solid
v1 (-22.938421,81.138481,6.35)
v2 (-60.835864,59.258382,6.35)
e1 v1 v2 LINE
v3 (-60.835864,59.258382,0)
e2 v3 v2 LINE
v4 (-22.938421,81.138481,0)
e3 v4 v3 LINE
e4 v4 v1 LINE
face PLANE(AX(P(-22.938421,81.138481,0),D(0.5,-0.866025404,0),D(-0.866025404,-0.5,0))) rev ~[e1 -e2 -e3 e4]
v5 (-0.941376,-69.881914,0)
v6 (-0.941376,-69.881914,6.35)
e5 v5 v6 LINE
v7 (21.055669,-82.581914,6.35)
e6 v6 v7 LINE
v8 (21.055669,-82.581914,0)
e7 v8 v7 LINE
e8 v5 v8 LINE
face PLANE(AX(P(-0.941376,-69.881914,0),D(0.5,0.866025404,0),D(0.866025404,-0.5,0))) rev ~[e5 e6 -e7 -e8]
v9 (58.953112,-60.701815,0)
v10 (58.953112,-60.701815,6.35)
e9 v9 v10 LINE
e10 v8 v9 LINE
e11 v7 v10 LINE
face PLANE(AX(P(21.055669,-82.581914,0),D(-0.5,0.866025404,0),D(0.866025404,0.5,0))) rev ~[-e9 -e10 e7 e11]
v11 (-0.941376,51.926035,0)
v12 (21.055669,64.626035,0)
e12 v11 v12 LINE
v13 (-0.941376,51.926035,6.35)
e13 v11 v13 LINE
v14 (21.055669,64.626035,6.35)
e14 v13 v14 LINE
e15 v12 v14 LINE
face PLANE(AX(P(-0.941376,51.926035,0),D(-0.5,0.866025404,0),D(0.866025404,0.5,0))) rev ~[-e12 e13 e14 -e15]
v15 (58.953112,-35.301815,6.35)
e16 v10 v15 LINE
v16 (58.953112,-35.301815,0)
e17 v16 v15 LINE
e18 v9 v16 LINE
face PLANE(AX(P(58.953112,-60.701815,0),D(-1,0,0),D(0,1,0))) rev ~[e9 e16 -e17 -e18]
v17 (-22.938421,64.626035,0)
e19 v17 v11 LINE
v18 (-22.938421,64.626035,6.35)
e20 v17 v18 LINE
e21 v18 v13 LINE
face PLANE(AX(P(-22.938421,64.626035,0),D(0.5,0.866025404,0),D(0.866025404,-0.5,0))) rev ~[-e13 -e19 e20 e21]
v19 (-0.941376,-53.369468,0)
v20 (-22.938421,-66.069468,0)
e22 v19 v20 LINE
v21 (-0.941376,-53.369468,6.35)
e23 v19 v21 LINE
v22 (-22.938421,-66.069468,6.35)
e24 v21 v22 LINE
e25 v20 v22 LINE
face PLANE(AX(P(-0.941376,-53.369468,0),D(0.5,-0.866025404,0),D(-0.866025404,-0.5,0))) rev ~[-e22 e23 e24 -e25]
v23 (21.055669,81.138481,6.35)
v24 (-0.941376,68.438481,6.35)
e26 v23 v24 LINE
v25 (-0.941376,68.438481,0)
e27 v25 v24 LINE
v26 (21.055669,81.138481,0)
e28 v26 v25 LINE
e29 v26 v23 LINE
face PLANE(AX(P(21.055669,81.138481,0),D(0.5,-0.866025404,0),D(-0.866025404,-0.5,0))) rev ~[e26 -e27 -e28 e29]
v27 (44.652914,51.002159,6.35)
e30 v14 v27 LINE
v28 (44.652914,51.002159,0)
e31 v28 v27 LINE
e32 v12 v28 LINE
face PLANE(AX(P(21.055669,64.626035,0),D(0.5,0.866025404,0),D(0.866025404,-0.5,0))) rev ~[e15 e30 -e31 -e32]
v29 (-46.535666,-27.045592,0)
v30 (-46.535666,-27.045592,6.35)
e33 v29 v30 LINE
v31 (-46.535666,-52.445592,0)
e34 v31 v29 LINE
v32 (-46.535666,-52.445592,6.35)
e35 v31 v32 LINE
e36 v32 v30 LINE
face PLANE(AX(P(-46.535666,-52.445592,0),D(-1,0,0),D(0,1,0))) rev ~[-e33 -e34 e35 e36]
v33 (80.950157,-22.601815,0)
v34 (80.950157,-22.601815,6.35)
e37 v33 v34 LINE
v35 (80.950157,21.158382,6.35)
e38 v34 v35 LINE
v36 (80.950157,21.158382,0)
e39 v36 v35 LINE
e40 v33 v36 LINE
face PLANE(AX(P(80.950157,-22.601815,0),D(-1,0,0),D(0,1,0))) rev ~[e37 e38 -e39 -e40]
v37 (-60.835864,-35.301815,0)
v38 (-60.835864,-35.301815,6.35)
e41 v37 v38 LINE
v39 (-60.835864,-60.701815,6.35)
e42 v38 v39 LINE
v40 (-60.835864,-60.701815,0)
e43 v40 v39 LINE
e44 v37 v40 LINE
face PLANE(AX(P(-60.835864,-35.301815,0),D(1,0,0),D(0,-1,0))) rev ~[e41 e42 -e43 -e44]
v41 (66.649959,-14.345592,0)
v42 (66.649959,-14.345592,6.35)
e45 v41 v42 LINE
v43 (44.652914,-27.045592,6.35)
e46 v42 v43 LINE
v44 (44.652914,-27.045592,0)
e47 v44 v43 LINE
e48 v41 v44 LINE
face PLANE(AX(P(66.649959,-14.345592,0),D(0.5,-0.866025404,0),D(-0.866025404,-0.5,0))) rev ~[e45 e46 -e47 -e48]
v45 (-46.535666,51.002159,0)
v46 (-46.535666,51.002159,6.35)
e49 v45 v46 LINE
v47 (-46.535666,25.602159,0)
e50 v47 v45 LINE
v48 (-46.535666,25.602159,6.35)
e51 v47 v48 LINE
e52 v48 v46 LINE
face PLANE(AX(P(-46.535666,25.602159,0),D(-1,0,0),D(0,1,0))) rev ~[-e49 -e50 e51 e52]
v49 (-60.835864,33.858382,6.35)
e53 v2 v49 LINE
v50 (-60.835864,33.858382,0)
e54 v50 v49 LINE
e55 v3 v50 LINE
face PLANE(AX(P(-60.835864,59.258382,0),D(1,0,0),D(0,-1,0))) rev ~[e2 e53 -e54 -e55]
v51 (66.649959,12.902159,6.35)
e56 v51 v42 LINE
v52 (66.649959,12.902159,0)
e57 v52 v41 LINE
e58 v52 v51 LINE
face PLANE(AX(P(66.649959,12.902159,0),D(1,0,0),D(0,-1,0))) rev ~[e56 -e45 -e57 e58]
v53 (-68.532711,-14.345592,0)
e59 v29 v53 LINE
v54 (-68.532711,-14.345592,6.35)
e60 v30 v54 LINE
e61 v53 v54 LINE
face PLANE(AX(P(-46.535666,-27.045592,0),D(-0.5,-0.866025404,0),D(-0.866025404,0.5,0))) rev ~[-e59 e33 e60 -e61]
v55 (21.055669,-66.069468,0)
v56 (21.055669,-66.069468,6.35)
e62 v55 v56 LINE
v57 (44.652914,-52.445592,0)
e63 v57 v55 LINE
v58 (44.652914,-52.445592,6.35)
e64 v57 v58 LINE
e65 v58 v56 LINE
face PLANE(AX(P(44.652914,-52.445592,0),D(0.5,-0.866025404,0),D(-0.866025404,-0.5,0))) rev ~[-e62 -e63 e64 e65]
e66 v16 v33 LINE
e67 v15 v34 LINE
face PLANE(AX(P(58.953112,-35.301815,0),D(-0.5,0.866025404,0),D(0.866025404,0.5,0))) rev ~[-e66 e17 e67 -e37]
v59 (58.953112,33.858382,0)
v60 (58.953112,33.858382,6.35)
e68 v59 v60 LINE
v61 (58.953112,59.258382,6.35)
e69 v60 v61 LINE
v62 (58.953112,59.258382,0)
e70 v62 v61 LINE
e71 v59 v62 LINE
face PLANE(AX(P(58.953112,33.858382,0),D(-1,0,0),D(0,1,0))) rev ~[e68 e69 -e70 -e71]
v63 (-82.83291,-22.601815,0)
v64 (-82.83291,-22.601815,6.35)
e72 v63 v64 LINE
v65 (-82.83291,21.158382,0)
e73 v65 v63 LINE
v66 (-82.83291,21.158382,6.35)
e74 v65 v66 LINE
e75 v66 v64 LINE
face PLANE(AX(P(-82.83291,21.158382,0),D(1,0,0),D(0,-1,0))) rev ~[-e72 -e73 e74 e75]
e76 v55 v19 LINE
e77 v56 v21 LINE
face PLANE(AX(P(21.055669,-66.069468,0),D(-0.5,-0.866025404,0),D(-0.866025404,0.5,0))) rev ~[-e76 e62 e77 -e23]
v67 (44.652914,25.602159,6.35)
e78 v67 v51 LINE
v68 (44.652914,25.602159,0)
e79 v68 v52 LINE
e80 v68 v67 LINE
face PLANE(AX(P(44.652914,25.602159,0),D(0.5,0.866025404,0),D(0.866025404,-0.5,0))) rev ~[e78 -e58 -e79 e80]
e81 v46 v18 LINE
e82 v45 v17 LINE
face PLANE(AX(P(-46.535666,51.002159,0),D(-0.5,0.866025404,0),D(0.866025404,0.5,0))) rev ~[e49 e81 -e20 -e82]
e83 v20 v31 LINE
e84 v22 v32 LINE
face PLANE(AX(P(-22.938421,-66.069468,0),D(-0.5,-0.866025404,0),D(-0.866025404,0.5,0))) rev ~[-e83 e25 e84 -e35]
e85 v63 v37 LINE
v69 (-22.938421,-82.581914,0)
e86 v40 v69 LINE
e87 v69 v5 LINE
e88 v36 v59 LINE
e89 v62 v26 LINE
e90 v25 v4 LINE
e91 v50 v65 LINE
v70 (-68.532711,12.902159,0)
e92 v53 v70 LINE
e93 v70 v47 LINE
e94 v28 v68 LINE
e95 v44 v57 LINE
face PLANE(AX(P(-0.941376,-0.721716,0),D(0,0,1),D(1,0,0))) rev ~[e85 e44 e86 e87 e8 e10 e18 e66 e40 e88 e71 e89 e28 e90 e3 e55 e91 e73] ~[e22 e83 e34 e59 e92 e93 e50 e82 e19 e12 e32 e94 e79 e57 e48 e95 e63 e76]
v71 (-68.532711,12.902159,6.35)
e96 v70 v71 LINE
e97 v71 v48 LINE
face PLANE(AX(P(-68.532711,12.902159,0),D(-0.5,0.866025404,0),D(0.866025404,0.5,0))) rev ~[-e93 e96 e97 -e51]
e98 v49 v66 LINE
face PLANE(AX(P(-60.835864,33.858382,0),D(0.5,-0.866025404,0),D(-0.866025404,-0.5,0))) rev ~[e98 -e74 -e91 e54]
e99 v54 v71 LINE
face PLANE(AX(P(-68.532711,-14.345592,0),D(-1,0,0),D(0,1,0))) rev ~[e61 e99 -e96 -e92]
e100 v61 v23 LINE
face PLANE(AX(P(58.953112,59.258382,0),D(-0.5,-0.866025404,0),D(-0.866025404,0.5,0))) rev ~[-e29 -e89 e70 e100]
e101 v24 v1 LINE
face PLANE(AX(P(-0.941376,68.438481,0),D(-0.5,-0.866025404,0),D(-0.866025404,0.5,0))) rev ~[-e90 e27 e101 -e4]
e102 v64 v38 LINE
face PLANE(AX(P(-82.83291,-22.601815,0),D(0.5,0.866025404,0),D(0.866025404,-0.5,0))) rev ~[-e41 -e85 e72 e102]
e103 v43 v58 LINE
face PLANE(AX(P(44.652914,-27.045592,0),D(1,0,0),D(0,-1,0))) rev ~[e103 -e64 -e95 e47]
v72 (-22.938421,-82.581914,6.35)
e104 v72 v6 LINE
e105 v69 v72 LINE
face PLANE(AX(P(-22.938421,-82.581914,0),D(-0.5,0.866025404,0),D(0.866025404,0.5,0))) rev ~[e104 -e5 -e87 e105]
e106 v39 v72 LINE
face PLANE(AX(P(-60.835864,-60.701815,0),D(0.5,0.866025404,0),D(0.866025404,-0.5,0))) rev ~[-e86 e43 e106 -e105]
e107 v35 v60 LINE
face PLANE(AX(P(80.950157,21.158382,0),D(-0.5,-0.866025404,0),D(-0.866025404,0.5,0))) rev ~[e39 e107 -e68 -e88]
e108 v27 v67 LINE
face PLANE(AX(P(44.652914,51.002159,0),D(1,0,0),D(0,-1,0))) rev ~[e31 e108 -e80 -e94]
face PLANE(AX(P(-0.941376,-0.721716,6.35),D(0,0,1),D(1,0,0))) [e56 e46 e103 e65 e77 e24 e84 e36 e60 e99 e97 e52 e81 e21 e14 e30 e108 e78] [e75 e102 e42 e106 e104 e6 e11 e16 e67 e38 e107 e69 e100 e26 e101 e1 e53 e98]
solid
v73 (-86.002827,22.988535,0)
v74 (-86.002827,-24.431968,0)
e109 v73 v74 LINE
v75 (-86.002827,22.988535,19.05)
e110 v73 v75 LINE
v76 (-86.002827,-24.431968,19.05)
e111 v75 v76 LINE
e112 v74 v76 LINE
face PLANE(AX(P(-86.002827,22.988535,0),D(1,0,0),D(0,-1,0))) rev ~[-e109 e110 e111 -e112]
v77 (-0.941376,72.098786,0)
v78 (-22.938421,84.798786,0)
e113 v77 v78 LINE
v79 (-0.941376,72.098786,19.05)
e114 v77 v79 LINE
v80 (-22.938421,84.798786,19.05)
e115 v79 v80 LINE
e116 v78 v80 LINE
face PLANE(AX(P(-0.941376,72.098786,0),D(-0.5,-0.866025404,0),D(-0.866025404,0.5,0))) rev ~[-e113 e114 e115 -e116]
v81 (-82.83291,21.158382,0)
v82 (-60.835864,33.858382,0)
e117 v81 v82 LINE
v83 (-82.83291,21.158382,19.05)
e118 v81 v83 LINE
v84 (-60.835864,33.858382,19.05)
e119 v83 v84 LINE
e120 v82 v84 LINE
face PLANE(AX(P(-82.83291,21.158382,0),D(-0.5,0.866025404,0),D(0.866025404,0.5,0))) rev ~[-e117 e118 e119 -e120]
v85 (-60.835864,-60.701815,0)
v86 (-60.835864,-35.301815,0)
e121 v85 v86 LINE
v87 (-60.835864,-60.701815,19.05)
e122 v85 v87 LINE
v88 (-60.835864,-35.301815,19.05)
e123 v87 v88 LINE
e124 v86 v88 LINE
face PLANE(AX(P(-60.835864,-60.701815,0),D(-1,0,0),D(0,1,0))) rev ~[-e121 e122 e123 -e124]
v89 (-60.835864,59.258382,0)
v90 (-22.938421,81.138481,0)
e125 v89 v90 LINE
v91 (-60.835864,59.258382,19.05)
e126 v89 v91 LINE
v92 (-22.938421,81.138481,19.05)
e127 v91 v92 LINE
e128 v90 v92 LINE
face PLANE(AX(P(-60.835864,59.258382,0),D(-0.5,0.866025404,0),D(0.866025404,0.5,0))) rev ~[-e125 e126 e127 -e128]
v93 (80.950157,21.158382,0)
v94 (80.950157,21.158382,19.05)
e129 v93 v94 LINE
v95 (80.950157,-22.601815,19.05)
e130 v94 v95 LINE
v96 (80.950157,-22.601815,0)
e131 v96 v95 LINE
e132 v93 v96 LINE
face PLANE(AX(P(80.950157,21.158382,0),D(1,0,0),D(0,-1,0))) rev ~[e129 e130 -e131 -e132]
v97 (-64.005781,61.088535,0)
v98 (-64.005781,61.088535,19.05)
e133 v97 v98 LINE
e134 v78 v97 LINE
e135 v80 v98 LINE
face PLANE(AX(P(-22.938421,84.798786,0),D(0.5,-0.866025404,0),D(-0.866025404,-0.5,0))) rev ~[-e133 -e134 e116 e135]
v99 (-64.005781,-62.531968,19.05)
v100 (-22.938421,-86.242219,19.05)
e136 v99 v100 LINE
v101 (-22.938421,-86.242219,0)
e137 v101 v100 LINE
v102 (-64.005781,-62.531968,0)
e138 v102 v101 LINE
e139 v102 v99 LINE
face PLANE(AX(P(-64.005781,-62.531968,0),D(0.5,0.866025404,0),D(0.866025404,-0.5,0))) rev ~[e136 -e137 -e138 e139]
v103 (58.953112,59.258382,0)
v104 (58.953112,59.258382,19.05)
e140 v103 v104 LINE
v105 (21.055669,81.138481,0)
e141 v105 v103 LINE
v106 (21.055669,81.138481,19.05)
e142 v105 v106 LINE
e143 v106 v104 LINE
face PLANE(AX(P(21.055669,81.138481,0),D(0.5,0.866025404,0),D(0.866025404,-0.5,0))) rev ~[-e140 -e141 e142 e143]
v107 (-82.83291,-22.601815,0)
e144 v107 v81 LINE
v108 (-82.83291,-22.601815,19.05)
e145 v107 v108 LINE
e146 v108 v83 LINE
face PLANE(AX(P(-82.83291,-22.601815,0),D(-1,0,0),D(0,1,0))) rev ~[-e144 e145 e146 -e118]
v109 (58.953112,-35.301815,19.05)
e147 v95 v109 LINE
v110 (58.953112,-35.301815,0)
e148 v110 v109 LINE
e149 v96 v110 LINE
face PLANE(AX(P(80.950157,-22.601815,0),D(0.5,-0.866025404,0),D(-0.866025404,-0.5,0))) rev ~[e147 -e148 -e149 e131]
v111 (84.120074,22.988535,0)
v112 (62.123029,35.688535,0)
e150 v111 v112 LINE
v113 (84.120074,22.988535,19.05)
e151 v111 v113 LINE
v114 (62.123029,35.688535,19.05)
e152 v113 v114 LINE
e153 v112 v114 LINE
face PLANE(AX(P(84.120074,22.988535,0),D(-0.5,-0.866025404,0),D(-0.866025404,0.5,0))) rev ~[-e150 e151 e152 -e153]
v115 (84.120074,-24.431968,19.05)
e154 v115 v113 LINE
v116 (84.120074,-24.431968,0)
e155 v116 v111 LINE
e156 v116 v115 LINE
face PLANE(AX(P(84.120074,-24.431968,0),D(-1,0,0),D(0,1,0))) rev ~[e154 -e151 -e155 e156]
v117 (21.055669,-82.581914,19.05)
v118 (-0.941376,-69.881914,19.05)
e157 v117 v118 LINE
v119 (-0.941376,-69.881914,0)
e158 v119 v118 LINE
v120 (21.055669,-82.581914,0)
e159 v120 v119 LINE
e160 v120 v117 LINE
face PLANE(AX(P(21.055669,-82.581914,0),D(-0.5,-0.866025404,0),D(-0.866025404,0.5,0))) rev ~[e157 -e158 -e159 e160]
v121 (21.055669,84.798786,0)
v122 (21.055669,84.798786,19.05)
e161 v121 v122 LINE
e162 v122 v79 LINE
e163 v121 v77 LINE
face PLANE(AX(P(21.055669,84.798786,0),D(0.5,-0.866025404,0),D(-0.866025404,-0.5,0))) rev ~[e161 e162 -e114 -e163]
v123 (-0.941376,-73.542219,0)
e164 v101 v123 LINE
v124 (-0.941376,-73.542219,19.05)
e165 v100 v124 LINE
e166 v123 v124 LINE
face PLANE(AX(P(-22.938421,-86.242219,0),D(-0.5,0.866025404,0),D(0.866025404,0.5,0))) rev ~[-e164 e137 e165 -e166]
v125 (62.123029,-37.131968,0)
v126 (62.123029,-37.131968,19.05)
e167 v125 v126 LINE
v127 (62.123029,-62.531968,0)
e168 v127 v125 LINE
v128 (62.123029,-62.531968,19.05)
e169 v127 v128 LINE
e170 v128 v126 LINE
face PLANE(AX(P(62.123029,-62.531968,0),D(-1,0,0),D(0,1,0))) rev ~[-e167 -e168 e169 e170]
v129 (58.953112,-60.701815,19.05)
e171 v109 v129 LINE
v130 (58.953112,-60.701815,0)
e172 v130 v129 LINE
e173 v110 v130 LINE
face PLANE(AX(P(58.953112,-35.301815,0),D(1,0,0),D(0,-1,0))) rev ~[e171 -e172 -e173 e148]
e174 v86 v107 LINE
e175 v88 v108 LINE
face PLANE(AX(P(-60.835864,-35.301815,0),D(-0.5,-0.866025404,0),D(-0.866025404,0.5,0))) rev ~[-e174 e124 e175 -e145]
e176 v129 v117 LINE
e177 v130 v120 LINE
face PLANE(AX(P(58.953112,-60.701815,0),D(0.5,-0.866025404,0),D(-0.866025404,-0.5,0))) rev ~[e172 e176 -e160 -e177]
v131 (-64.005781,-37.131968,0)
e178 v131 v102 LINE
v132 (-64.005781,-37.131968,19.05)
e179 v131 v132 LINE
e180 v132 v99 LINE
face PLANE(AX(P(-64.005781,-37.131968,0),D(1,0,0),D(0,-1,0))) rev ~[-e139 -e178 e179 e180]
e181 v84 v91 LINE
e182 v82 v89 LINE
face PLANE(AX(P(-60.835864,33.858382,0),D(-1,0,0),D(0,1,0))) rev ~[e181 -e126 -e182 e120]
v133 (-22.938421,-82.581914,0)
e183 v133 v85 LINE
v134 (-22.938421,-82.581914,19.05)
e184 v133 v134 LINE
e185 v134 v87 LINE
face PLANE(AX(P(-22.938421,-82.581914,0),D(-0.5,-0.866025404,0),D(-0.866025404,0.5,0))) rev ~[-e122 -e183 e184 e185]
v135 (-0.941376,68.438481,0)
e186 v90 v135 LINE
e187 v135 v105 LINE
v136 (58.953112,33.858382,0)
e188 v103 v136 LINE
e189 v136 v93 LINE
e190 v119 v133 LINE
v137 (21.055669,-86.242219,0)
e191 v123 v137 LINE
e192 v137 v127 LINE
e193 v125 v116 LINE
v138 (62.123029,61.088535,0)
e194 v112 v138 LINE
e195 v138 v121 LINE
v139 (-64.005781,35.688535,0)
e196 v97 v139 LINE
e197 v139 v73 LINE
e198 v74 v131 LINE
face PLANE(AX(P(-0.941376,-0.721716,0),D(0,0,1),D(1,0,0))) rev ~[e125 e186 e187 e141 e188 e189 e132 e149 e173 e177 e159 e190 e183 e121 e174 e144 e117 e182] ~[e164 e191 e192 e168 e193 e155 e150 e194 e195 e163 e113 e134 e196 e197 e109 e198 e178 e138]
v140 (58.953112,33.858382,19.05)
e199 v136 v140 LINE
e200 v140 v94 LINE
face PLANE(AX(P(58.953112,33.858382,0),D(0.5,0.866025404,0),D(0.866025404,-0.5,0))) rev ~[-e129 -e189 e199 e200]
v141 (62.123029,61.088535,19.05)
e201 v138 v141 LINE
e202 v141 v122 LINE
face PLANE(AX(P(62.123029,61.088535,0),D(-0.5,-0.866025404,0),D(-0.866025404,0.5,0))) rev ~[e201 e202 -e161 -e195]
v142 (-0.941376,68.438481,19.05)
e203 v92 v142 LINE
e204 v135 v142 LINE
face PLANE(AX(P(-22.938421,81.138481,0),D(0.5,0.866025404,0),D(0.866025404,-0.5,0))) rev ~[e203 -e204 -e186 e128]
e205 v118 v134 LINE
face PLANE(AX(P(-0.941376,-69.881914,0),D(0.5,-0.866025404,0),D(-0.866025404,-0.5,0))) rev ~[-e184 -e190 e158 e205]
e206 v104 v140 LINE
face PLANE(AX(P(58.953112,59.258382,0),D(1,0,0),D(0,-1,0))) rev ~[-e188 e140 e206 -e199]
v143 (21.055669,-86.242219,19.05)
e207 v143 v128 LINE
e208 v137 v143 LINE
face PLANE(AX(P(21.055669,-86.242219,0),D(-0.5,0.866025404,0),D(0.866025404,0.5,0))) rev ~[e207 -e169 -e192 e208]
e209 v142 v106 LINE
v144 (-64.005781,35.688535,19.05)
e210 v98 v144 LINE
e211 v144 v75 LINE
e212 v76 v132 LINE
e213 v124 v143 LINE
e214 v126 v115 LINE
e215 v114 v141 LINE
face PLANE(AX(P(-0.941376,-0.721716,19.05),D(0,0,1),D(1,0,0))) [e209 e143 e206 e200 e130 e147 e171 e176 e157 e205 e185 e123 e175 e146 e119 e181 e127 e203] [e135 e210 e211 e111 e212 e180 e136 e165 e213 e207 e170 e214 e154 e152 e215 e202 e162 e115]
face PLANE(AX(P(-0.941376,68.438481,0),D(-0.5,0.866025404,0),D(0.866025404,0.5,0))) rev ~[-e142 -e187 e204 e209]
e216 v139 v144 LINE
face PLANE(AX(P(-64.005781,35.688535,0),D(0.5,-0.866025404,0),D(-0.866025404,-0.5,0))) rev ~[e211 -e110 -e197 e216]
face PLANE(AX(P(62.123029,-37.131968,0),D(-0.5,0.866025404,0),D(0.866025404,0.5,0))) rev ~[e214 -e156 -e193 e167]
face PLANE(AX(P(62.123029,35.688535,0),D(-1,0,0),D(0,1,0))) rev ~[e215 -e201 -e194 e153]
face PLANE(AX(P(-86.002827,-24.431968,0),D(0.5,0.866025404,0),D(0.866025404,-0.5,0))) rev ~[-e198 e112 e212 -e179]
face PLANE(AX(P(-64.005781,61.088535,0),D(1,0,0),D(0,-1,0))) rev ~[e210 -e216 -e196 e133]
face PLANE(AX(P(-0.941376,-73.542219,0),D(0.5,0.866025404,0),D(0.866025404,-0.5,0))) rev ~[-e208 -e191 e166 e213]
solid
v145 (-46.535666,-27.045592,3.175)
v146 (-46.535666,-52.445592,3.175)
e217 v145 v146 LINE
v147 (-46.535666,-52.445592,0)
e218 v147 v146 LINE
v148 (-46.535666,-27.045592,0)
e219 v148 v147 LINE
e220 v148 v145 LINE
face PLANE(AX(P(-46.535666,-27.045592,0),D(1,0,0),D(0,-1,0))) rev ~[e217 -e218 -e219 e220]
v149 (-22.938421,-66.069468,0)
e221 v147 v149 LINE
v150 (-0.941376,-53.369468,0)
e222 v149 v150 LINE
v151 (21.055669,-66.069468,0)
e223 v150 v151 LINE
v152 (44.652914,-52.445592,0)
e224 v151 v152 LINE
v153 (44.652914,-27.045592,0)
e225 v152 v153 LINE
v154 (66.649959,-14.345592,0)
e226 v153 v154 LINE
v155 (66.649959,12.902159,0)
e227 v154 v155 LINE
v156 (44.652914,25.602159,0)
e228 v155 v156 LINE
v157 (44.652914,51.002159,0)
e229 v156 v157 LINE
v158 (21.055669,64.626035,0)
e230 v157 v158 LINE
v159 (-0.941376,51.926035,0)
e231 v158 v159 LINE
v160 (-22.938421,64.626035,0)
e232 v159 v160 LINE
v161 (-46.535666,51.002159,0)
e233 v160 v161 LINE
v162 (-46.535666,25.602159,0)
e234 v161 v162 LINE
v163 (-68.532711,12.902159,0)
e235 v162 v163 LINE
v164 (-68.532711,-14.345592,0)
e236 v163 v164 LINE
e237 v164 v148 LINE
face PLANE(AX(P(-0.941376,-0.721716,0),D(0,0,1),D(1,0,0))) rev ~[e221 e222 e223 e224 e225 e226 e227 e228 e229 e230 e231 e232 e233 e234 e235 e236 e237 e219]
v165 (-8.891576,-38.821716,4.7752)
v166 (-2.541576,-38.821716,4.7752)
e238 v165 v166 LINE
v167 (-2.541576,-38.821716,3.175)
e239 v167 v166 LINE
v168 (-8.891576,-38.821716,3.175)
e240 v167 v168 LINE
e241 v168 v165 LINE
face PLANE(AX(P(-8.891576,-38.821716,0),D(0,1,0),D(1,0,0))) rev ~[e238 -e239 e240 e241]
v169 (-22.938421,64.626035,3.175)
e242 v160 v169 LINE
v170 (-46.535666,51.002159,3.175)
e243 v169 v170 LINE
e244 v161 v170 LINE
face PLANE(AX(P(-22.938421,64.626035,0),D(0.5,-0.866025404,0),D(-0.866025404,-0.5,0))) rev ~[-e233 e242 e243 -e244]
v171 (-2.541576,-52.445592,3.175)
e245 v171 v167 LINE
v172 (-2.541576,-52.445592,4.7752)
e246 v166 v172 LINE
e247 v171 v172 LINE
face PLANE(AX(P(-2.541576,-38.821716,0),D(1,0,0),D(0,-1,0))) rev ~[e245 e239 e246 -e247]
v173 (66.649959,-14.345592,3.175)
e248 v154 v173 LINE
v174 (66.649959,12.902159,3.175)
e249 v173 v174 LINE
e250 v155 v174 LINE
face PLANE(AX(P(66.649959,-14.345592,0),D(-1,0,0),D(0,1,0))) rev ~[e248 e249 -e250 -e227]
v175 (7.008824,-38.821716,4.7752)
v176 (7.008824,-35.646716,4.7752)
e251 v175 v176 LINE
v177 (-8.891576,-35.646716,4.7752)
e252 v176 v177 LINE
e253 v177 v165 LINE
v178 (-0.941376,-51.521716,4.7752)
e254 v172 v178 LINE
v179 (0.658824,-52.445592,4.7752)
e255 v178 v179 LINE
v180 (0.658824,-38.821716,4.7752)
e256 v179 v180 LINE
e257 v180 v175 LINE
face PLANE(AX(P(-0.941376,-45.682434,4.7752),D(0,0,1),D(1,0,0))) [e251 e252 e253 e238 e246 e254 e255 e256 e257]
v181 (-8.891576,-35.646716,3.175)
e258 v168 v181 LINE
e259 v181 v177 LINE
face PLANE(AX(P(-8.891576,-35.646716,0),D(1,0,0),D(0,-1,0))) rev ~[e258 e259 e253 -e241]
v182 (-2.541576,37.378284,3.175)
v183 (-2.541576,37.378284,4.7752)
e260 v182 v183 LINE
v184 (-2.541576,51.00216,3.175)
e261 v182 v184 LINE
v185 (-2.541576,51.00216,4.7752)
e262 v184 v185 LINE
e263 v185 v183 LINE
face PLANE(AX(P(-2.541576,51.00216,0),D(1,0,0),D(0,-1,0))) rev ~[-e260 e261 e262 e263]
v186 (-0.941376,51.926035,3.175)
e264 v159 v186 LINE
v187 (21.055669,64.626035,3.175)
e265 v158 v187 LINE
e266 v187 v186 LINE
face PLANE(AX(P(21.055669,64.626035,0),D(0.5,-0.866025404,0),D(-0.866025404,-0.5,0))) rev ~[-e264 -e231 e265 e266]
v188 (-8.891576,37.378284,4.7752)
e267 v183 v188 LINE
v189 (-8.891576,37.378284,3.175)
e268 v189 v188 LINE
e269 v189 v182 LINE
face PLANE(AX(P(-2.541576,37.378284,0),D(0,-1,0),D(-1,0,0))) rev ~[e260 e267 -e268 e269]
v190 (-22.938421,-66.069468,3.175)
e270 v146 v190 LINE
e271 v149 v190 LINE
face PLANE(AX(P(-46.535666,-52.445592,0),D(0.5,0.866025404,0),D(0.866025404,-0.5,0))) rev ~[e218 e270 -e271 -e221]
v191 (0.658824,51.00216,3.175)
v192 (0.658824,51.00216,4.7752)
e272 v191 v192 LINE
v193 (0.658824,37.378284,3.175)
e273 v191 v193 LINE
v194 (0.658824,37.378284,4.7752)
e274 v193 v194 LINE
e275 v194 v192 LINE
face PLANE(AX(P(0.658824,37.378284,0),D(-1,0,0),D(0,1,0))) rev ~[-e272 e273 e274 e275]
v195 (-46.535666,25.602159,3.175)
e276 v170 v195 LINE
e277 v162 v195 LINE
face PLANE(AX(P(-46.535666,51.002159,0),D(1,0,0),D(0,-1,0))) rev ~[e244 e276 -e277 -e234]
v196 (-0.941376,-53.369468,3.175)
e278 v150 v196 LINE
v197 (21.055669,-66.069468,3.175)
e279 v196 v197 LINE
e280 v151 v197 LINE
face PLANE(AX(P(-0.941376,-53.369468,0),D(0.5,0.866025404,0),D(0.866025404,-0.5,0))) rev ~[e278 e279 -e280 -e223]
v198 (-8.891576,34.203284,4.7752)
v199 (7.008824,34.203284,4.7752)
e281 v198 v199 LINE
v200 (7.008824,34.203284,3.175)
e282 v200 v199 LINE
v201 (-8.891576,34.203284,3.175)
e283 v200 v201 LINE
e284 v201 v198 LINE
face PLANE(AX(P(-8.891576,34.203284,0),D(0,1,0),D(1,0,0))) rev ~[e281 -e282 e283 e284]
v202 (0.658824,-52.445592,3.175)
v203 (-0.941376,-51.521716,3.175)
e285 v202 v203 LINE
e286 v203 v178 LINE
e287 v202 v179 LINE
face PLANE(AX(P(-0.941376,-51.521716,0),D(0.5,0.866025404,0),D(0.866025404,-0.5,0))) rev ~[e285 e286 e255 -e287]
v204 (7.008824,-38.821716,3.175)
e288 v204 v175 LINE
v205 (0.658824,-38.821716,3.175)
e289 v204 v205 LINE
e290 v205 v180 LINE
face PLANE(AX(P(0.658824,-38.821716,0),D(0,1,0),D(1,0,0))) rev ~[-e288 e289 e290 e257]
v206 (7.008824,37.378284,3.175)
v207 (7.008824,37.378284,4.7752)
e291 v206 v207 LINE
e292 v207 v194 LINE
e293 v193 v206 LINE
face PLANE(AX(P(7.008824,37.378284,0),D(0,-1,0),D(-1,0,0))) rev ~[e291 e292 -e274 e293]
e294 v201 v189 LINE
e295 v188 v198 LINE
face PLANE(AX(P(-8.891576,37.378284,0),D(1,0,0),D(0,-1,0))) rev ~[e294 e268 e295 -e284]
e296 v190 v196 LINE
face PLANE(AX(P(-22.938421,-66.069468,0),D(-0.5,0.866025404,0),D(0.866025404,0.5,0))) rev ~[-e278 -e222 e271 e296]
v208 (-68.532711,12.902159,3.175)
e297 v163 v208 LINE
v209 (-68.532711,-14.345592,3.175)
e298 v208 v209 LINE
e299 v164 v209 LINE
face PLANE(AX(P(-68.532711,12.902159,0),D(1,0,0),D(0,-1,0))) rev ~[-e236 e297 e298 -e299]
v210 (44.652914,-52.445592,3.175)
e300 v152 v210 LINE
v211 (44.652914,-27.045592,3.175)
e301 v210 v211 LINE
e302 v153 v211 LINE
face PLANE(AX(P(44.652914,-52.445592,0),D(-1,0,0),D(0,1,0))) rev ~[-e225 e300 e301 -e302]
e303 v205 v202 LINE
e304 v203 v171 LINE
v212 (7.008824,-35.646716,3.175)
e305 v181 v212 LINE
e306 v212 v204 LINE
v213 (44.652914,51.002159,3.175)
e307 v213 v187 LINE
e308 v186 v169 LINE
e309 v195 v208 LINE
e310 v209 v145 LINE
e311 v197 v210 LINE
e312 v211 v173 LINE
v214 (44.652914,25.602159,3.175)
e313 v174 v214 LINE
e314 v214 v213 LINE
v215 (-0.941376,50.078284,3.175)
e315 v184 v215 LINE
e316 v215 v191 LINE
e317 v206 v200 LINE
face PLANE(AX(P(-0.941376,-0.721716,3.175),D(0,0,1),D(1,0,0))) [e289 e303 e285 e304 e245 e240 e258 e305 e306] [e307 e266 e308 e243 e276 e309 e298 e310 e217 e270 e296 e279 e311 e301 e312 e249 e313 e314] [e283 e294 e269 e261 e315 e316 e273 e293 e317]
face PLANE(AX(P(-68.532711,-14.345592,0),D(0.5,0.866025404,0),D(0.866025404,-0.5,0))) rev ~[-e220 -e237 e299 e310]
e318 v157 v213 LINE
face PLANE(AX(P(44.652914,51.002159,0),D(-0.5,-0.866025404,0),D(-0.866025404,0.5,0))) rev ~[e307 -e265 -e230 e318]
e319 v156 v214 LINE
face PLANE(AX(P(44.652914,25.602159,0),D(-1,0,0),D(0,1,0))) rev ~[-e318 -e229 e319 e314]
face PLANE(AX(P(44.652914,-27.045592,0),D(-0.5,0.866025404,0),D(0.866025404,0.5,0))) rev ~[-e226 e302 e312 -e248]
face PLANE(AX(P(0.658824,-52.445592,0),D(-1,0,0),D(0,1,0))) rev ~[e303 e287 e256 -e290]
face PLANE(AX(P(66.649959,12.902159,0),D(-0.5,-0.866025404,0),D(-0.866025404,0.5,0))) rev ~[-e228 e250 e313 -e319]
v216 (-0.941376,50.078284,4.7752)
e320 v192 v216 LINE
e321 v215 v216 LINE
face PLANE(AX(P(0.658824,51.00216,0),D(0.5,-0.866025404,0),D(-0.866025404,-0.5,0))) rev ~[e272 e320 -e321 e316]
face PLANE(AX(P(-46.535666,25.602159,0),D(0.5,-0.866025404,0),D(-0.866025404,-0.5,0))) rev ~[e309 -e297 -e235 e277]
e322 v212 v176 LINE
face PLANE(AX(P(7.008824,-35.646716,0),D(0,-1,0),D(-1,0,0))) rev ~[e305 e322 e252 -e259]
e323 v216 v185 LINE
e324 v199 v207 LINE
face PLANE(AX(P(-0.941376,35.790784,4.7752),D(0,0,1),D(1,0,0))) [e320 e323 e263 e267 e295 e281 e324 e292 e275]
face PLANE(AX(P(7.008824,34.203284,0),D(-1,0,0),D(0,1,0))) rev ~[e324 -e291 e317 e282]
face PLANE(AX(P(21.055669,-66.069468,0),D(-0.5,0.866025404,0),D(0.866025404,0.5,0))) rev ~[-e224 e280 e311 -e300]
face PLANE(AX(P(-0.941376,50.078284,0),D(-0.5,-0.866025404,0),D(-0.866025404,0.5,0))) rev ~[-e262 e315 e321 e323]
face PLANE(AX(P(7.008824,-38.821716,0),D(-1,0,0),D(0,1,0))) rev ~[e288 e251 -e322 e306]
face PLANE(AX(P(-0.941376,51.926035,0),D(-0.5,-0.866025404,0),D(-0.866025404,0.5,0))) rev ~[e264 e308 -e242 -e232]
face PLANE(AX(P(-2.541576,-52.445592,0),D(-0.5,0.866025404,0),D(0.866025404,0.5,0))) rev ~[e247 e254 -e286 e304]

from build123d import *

# Parameters (mm, degrees)
F1_DEPTH = 6.35
F2_DEPTH = 19.05
F3_DEPTH = 3.175
F4_DEPTH = 4.7752


with BuildPart() as f1:
    # F0 (on Top) → F1 (new body)
    with BuildSketch(Plane.XY):
        Polygon((-0.9413762387, 68.4384813374), (-22.9384214948, 81.1384813374), (-60.8358643949, 59.2583824775), (-60.8358643949, 33.8583824775), (-82.832909651, 21.1583824775), (-82.832909651, -22.6018152425), (-60.8358643949, -35.3018152425), (-60.8358643949, -60.7018152425), (-22.9384214948, -82.5819141025), (-0.9413762387, -69.8819141025), (21.0556690175, -82.5819141025), (58.9531119176, -60.7018152425), (58.9531119176, -35.3018152425), (80.9501571737, -22.6018152425), (80.9501571737, 21.1583824775), (58.9531119176, 33.8583824775), (58.9531119176, 59.2583824775), (21.0556690175, 81.1384813374), align=None)
        Polygon((-70.1329112053, 13.8260349561), (-48.1358659492, 26.5260349561), (-48.1358659492, 51.9260349561), (-22.9384214948, 66.4737862947), (-0.9413762387, 53.7737862947), (21.0556690175, 66.4737862947), (46.2531134718, 51.9260349561), (46.2531134718, 26.5260349561), (68.250158728, 13.8260349561), (68.250158728, -15.2694677211), (46.2531134718, -27.9694677211), (46.2531134718, -53.3694677211), (21.0556690175, -67.9172190598), (-0.9413762387, -55.2172190598), (-22.9384214948, -67.9172190598), (-48.1358659492, -53.3694677211), (-48.1358659492, -27.9694677211), (-70.1329112053, -15.2694677211), align=None, mode=Mode.SUBTRACT)
        Polygon((-48.1358659492, 51.9260349561), (-48.1358659492, 26.5260349561), (-70.1329112053, 13.8260349561), (-70.1329112053, -15.2694677211), (-48.1358659492, -27.9694677211), (-48.1358659492, -53.3694677211), (-22.9384214948, -67.9172190598), (-0.9413762387, -55.2172190598), (21.0556690175, -67.9172190598), (46.2531134718, -53.3694677211), (46.2531134718, -27.9694677211), (68.250158728, -15.2694677211), (68.250158728, 13.8260349561), (46.2531134718, 26.5260349561), (46.2531134718, 51.9260349561), (21.0556690175, 66.4737862947), (-0.9413762387, 53.7737862947), (-22.9384214948, 66.4737862947), align=None)
        Polygon((-0.9413762387, -53.3694675591), (-22.9384214948, -66.0694675591), (-46.5356662097, -52.4455919708), (-46.5356662097, -27.0455919708), (-68.5327114659, -14.3455919708), (-68.5327114659, 12.9021592058), (-46.5356662097, 25.6021592058), (-46.5356662097, 51.0021592058), (-22.9384214948, 64.6260347941), (-0.9413762387, 51.9260347941), (21.0556690175, 64.6260347941), (44.6529137324, 51.0021592058), (44.6529137324, 25.6021592058), (66.6499589885, 12.9021592058), (66.6499589885, -14.3455919708), (44.6529137324, -27.0455919708), (44.6529137324, -52.4455919708), (21.0556690175, -66.0694675591), align=None, mode=Mode.SUBTRACT)
    extrude(amount=F1_DEPTH)


with BuildPart() as f2:
    # F0 (on Top) → F2 (new body)
    with BuildSketch(Plane.XY):
        Polygon((-64.0057814345, 61.0885349336), (-64.0057814345, 35.6885349336), (-86.0028266907, 22.9885349336), (-86.0028266907, -24.4319676986), (-64.0057814345, -37.1319676986), (-64.0057814345, -62.5319676986), (-22.9384214948, -86.2422190148), (-0.9413762387, -73.5422190148), (21.0556690175, -86.2422190148), (62.1230289572, -62.5319676986), (62.1230289572, -37.1319676986), (84.1200742133, -24.4319676986), (84.1200742133, 22.9885349336), (62.1230289572, 35.6885349336), (62.1230289572, 61.0885349336), (21.0556690175, 84.7987862497), (-0.9413762387, 72.0987862497), (-22.9384214948, 84.7987862497), align=None)
        Polygon((-60.8358643949, 59.2583824775), (-22.9384214948, 81.1384813374), (-0.9413762387, 68.4384813374), (21.0556690175, 81.1384813374), (58.9531119176, 59.2583824775), (58.9531119176, 33.8583824775), (80.9501571737, 21.1583824775), (80.9501571737, -22.6018152425), (58.9531119176, -35.3018152425), (58.9531119176, -60.7018152425), (21.0556690175, -82.5819141025), (-0.9413762387, -69.8819141025), (-22.9384214948, -82.5819141025), (-60.8358643949, -60.7018152425), (-60.8358643949, -35.3018152425), (-82.832909651, -22.6018152425), (-82.832909651, 21.1583824775), (-60.8358643949, 33.8583824775), align=None, mode=Mode.SUBTRACT)
    extrude(amount=F2_DEPTH)


with BuildPart() as f3:
    # F0 (on Top) → F3 (new body)
    with BuildSketch(Plane.XY):
        Polygon((-46.5356662097, -52.4455919708), (-22.9384214948, -66.0694675591), (-0.9413762387, -53.3694675591), (21.0556690175, -66.0694675591), (44.6529137324, -52.4455919708), (44.6529137324, -27.0455919708), (66.6499589885, -14.3455919708), (66.6499589885, 12.9021592058), (44.6529137324, 25.6021592058), (44.6529137324, 51.0021592058), (21.0556690175, 64.6260347941), (-0.9413762387, 51.9260347941), (-22.9384214948, 64.6260347941), (-46.5356662097, 51.0021592058), (-46.5356662097, 25.6021592058), (-68.5327114659, 12.9021592058), (-68.5327114659, -14.3455919708), (-46.5356662097, -27.0455919708), align=None)
        Polygon((-66.932512007, 11.9782836175), (-44.9354667509, 24.6782836175), (-44.9354667509, 50.0782836175), (-22.9384214948, 62.7782836175), (-2.5415762387, 51.0021595182), (-0.9413762387, 50.0782836175), (0.6588237613, 51.0021595182), (21.0556690175, 62.7782836175), (43.0527142736, 50.0782836175), (43.0527142736, 24.6782836175), (65.0497595297, 11.9782836175), (65.0497595297, -13.4217163825), (43.0527142736, -26.1217163825), (43.0527142736, -51.5217163825), (21.0556690175, -64.2217163825), (0.6588237613, -52.4455922833), (-0.9413762387, -51.5217163825), (-2.5415762387, -52.4455922833), (-22.9384214948, -64.2217163825), (-44.9354667509, -51.5217163825), (-44.9354667509, -26.1217163825), (-66.932512007, -13.4217163825), align=None, mode=Mode.SUBTRACT)
        Polygon((-44.9354667509, 50.0782836175), (-44.9354667509, 24.6782836175), (-66.932512007, 11.9782836175), (-66.932512007, -13.4217163825), (-44.9354667509, -26.1217163825), (-44.9354667509, -51.5217163825), (-22.9384214948, -64.2217163825), (-2.5415762387, -52.4455922833), (-2.5415762387, -51.5217163825), (-2.5415762387, -38.8217163825), (-8.8915762387, -38.8217163825), (-8.8915762387, -35.6467163825), (7.0088237613, -35.6467163825), (7.0088237613, -38.8217163825), (0.6588237613, -38.8217163825), (0.6588237613, -51.5217163825), (0.6588237613, -52.4455922833), (21.0556690175, -64.2217163825), (43.0527142736, -51.5217163825), (43.0527142736, -26.1217163825), (65.0497595297, -13.4217163825), (65.0497595297, 11.9782836175), (43.0527142736, 24.6782836175), (43.0527142736, 50.0782836175), (21.0556690175, 62.7782836175), (0.6588237613, 51.0021595182), (0.6588237613, 50.0782836175), (0.6588237613, 37.3782836175), (7.0088237613, 37.3782836175), (7.0088237613, 34.2032836175), (-8.8915762387, 34.2032836175), (-8.8915762387, 37.3782836175), (-2.5415762387, 37.3782836175), (-2.5415762387, 50.0782836175), (-2.5415762387, 51.0021595182), (-22.9384214948, 62.7782836175), align=None)
    extrude(amount=F3_DEPTH)

    # F0 (on Top) → F4 (join)
    with BuildSketch(Plane.XY):
        Polygon((0.6588237613, 37.3782836175), (-2.5415762387, 37.3782836175), (-8.8915762387, 37.3782836175), (-8.8915762387, 34.2032836175), (7.0088237613, 34.2032836175), (7.0088237613, 37.3782836175), align=None)
        Polygon((-0.9413762387, 50.0782836175), (-2.5415762387, 51.0021595182), (-2.5415762387, 50.0782836175), (-2.5415762387, 37.3782836175), (0.6588237613, 37.3782836175), (0.6588237613, 50.0782836175), (0.6588237613, 51.0021595182), align=None)
        Polygon((-2.5415762387, -51.5217163825), (-2.5415762387, -52.4455922833), (-0.9413762387, -51.5217163825), (0.6588237613, -52.4455922833), (0.6588237613, -51.5217163825), (0.6588237613, -38.8217163825), (-2.5415762387, -38.8217163825), align=None)
        Polygon((-8.8915762387, -38.8217163825), (-2.5415762387, -38.8217163825), (0.6588237613, -38.8217163825), (7.0088237613, -38.8217163825), (7.0088237613, -35.6467163825), (-8.8915762387, -35.6467163825), align=None)
    extrude(amount=F4_DEPTH)


solid = Compound([f1.part, f2.part, f3.part])
